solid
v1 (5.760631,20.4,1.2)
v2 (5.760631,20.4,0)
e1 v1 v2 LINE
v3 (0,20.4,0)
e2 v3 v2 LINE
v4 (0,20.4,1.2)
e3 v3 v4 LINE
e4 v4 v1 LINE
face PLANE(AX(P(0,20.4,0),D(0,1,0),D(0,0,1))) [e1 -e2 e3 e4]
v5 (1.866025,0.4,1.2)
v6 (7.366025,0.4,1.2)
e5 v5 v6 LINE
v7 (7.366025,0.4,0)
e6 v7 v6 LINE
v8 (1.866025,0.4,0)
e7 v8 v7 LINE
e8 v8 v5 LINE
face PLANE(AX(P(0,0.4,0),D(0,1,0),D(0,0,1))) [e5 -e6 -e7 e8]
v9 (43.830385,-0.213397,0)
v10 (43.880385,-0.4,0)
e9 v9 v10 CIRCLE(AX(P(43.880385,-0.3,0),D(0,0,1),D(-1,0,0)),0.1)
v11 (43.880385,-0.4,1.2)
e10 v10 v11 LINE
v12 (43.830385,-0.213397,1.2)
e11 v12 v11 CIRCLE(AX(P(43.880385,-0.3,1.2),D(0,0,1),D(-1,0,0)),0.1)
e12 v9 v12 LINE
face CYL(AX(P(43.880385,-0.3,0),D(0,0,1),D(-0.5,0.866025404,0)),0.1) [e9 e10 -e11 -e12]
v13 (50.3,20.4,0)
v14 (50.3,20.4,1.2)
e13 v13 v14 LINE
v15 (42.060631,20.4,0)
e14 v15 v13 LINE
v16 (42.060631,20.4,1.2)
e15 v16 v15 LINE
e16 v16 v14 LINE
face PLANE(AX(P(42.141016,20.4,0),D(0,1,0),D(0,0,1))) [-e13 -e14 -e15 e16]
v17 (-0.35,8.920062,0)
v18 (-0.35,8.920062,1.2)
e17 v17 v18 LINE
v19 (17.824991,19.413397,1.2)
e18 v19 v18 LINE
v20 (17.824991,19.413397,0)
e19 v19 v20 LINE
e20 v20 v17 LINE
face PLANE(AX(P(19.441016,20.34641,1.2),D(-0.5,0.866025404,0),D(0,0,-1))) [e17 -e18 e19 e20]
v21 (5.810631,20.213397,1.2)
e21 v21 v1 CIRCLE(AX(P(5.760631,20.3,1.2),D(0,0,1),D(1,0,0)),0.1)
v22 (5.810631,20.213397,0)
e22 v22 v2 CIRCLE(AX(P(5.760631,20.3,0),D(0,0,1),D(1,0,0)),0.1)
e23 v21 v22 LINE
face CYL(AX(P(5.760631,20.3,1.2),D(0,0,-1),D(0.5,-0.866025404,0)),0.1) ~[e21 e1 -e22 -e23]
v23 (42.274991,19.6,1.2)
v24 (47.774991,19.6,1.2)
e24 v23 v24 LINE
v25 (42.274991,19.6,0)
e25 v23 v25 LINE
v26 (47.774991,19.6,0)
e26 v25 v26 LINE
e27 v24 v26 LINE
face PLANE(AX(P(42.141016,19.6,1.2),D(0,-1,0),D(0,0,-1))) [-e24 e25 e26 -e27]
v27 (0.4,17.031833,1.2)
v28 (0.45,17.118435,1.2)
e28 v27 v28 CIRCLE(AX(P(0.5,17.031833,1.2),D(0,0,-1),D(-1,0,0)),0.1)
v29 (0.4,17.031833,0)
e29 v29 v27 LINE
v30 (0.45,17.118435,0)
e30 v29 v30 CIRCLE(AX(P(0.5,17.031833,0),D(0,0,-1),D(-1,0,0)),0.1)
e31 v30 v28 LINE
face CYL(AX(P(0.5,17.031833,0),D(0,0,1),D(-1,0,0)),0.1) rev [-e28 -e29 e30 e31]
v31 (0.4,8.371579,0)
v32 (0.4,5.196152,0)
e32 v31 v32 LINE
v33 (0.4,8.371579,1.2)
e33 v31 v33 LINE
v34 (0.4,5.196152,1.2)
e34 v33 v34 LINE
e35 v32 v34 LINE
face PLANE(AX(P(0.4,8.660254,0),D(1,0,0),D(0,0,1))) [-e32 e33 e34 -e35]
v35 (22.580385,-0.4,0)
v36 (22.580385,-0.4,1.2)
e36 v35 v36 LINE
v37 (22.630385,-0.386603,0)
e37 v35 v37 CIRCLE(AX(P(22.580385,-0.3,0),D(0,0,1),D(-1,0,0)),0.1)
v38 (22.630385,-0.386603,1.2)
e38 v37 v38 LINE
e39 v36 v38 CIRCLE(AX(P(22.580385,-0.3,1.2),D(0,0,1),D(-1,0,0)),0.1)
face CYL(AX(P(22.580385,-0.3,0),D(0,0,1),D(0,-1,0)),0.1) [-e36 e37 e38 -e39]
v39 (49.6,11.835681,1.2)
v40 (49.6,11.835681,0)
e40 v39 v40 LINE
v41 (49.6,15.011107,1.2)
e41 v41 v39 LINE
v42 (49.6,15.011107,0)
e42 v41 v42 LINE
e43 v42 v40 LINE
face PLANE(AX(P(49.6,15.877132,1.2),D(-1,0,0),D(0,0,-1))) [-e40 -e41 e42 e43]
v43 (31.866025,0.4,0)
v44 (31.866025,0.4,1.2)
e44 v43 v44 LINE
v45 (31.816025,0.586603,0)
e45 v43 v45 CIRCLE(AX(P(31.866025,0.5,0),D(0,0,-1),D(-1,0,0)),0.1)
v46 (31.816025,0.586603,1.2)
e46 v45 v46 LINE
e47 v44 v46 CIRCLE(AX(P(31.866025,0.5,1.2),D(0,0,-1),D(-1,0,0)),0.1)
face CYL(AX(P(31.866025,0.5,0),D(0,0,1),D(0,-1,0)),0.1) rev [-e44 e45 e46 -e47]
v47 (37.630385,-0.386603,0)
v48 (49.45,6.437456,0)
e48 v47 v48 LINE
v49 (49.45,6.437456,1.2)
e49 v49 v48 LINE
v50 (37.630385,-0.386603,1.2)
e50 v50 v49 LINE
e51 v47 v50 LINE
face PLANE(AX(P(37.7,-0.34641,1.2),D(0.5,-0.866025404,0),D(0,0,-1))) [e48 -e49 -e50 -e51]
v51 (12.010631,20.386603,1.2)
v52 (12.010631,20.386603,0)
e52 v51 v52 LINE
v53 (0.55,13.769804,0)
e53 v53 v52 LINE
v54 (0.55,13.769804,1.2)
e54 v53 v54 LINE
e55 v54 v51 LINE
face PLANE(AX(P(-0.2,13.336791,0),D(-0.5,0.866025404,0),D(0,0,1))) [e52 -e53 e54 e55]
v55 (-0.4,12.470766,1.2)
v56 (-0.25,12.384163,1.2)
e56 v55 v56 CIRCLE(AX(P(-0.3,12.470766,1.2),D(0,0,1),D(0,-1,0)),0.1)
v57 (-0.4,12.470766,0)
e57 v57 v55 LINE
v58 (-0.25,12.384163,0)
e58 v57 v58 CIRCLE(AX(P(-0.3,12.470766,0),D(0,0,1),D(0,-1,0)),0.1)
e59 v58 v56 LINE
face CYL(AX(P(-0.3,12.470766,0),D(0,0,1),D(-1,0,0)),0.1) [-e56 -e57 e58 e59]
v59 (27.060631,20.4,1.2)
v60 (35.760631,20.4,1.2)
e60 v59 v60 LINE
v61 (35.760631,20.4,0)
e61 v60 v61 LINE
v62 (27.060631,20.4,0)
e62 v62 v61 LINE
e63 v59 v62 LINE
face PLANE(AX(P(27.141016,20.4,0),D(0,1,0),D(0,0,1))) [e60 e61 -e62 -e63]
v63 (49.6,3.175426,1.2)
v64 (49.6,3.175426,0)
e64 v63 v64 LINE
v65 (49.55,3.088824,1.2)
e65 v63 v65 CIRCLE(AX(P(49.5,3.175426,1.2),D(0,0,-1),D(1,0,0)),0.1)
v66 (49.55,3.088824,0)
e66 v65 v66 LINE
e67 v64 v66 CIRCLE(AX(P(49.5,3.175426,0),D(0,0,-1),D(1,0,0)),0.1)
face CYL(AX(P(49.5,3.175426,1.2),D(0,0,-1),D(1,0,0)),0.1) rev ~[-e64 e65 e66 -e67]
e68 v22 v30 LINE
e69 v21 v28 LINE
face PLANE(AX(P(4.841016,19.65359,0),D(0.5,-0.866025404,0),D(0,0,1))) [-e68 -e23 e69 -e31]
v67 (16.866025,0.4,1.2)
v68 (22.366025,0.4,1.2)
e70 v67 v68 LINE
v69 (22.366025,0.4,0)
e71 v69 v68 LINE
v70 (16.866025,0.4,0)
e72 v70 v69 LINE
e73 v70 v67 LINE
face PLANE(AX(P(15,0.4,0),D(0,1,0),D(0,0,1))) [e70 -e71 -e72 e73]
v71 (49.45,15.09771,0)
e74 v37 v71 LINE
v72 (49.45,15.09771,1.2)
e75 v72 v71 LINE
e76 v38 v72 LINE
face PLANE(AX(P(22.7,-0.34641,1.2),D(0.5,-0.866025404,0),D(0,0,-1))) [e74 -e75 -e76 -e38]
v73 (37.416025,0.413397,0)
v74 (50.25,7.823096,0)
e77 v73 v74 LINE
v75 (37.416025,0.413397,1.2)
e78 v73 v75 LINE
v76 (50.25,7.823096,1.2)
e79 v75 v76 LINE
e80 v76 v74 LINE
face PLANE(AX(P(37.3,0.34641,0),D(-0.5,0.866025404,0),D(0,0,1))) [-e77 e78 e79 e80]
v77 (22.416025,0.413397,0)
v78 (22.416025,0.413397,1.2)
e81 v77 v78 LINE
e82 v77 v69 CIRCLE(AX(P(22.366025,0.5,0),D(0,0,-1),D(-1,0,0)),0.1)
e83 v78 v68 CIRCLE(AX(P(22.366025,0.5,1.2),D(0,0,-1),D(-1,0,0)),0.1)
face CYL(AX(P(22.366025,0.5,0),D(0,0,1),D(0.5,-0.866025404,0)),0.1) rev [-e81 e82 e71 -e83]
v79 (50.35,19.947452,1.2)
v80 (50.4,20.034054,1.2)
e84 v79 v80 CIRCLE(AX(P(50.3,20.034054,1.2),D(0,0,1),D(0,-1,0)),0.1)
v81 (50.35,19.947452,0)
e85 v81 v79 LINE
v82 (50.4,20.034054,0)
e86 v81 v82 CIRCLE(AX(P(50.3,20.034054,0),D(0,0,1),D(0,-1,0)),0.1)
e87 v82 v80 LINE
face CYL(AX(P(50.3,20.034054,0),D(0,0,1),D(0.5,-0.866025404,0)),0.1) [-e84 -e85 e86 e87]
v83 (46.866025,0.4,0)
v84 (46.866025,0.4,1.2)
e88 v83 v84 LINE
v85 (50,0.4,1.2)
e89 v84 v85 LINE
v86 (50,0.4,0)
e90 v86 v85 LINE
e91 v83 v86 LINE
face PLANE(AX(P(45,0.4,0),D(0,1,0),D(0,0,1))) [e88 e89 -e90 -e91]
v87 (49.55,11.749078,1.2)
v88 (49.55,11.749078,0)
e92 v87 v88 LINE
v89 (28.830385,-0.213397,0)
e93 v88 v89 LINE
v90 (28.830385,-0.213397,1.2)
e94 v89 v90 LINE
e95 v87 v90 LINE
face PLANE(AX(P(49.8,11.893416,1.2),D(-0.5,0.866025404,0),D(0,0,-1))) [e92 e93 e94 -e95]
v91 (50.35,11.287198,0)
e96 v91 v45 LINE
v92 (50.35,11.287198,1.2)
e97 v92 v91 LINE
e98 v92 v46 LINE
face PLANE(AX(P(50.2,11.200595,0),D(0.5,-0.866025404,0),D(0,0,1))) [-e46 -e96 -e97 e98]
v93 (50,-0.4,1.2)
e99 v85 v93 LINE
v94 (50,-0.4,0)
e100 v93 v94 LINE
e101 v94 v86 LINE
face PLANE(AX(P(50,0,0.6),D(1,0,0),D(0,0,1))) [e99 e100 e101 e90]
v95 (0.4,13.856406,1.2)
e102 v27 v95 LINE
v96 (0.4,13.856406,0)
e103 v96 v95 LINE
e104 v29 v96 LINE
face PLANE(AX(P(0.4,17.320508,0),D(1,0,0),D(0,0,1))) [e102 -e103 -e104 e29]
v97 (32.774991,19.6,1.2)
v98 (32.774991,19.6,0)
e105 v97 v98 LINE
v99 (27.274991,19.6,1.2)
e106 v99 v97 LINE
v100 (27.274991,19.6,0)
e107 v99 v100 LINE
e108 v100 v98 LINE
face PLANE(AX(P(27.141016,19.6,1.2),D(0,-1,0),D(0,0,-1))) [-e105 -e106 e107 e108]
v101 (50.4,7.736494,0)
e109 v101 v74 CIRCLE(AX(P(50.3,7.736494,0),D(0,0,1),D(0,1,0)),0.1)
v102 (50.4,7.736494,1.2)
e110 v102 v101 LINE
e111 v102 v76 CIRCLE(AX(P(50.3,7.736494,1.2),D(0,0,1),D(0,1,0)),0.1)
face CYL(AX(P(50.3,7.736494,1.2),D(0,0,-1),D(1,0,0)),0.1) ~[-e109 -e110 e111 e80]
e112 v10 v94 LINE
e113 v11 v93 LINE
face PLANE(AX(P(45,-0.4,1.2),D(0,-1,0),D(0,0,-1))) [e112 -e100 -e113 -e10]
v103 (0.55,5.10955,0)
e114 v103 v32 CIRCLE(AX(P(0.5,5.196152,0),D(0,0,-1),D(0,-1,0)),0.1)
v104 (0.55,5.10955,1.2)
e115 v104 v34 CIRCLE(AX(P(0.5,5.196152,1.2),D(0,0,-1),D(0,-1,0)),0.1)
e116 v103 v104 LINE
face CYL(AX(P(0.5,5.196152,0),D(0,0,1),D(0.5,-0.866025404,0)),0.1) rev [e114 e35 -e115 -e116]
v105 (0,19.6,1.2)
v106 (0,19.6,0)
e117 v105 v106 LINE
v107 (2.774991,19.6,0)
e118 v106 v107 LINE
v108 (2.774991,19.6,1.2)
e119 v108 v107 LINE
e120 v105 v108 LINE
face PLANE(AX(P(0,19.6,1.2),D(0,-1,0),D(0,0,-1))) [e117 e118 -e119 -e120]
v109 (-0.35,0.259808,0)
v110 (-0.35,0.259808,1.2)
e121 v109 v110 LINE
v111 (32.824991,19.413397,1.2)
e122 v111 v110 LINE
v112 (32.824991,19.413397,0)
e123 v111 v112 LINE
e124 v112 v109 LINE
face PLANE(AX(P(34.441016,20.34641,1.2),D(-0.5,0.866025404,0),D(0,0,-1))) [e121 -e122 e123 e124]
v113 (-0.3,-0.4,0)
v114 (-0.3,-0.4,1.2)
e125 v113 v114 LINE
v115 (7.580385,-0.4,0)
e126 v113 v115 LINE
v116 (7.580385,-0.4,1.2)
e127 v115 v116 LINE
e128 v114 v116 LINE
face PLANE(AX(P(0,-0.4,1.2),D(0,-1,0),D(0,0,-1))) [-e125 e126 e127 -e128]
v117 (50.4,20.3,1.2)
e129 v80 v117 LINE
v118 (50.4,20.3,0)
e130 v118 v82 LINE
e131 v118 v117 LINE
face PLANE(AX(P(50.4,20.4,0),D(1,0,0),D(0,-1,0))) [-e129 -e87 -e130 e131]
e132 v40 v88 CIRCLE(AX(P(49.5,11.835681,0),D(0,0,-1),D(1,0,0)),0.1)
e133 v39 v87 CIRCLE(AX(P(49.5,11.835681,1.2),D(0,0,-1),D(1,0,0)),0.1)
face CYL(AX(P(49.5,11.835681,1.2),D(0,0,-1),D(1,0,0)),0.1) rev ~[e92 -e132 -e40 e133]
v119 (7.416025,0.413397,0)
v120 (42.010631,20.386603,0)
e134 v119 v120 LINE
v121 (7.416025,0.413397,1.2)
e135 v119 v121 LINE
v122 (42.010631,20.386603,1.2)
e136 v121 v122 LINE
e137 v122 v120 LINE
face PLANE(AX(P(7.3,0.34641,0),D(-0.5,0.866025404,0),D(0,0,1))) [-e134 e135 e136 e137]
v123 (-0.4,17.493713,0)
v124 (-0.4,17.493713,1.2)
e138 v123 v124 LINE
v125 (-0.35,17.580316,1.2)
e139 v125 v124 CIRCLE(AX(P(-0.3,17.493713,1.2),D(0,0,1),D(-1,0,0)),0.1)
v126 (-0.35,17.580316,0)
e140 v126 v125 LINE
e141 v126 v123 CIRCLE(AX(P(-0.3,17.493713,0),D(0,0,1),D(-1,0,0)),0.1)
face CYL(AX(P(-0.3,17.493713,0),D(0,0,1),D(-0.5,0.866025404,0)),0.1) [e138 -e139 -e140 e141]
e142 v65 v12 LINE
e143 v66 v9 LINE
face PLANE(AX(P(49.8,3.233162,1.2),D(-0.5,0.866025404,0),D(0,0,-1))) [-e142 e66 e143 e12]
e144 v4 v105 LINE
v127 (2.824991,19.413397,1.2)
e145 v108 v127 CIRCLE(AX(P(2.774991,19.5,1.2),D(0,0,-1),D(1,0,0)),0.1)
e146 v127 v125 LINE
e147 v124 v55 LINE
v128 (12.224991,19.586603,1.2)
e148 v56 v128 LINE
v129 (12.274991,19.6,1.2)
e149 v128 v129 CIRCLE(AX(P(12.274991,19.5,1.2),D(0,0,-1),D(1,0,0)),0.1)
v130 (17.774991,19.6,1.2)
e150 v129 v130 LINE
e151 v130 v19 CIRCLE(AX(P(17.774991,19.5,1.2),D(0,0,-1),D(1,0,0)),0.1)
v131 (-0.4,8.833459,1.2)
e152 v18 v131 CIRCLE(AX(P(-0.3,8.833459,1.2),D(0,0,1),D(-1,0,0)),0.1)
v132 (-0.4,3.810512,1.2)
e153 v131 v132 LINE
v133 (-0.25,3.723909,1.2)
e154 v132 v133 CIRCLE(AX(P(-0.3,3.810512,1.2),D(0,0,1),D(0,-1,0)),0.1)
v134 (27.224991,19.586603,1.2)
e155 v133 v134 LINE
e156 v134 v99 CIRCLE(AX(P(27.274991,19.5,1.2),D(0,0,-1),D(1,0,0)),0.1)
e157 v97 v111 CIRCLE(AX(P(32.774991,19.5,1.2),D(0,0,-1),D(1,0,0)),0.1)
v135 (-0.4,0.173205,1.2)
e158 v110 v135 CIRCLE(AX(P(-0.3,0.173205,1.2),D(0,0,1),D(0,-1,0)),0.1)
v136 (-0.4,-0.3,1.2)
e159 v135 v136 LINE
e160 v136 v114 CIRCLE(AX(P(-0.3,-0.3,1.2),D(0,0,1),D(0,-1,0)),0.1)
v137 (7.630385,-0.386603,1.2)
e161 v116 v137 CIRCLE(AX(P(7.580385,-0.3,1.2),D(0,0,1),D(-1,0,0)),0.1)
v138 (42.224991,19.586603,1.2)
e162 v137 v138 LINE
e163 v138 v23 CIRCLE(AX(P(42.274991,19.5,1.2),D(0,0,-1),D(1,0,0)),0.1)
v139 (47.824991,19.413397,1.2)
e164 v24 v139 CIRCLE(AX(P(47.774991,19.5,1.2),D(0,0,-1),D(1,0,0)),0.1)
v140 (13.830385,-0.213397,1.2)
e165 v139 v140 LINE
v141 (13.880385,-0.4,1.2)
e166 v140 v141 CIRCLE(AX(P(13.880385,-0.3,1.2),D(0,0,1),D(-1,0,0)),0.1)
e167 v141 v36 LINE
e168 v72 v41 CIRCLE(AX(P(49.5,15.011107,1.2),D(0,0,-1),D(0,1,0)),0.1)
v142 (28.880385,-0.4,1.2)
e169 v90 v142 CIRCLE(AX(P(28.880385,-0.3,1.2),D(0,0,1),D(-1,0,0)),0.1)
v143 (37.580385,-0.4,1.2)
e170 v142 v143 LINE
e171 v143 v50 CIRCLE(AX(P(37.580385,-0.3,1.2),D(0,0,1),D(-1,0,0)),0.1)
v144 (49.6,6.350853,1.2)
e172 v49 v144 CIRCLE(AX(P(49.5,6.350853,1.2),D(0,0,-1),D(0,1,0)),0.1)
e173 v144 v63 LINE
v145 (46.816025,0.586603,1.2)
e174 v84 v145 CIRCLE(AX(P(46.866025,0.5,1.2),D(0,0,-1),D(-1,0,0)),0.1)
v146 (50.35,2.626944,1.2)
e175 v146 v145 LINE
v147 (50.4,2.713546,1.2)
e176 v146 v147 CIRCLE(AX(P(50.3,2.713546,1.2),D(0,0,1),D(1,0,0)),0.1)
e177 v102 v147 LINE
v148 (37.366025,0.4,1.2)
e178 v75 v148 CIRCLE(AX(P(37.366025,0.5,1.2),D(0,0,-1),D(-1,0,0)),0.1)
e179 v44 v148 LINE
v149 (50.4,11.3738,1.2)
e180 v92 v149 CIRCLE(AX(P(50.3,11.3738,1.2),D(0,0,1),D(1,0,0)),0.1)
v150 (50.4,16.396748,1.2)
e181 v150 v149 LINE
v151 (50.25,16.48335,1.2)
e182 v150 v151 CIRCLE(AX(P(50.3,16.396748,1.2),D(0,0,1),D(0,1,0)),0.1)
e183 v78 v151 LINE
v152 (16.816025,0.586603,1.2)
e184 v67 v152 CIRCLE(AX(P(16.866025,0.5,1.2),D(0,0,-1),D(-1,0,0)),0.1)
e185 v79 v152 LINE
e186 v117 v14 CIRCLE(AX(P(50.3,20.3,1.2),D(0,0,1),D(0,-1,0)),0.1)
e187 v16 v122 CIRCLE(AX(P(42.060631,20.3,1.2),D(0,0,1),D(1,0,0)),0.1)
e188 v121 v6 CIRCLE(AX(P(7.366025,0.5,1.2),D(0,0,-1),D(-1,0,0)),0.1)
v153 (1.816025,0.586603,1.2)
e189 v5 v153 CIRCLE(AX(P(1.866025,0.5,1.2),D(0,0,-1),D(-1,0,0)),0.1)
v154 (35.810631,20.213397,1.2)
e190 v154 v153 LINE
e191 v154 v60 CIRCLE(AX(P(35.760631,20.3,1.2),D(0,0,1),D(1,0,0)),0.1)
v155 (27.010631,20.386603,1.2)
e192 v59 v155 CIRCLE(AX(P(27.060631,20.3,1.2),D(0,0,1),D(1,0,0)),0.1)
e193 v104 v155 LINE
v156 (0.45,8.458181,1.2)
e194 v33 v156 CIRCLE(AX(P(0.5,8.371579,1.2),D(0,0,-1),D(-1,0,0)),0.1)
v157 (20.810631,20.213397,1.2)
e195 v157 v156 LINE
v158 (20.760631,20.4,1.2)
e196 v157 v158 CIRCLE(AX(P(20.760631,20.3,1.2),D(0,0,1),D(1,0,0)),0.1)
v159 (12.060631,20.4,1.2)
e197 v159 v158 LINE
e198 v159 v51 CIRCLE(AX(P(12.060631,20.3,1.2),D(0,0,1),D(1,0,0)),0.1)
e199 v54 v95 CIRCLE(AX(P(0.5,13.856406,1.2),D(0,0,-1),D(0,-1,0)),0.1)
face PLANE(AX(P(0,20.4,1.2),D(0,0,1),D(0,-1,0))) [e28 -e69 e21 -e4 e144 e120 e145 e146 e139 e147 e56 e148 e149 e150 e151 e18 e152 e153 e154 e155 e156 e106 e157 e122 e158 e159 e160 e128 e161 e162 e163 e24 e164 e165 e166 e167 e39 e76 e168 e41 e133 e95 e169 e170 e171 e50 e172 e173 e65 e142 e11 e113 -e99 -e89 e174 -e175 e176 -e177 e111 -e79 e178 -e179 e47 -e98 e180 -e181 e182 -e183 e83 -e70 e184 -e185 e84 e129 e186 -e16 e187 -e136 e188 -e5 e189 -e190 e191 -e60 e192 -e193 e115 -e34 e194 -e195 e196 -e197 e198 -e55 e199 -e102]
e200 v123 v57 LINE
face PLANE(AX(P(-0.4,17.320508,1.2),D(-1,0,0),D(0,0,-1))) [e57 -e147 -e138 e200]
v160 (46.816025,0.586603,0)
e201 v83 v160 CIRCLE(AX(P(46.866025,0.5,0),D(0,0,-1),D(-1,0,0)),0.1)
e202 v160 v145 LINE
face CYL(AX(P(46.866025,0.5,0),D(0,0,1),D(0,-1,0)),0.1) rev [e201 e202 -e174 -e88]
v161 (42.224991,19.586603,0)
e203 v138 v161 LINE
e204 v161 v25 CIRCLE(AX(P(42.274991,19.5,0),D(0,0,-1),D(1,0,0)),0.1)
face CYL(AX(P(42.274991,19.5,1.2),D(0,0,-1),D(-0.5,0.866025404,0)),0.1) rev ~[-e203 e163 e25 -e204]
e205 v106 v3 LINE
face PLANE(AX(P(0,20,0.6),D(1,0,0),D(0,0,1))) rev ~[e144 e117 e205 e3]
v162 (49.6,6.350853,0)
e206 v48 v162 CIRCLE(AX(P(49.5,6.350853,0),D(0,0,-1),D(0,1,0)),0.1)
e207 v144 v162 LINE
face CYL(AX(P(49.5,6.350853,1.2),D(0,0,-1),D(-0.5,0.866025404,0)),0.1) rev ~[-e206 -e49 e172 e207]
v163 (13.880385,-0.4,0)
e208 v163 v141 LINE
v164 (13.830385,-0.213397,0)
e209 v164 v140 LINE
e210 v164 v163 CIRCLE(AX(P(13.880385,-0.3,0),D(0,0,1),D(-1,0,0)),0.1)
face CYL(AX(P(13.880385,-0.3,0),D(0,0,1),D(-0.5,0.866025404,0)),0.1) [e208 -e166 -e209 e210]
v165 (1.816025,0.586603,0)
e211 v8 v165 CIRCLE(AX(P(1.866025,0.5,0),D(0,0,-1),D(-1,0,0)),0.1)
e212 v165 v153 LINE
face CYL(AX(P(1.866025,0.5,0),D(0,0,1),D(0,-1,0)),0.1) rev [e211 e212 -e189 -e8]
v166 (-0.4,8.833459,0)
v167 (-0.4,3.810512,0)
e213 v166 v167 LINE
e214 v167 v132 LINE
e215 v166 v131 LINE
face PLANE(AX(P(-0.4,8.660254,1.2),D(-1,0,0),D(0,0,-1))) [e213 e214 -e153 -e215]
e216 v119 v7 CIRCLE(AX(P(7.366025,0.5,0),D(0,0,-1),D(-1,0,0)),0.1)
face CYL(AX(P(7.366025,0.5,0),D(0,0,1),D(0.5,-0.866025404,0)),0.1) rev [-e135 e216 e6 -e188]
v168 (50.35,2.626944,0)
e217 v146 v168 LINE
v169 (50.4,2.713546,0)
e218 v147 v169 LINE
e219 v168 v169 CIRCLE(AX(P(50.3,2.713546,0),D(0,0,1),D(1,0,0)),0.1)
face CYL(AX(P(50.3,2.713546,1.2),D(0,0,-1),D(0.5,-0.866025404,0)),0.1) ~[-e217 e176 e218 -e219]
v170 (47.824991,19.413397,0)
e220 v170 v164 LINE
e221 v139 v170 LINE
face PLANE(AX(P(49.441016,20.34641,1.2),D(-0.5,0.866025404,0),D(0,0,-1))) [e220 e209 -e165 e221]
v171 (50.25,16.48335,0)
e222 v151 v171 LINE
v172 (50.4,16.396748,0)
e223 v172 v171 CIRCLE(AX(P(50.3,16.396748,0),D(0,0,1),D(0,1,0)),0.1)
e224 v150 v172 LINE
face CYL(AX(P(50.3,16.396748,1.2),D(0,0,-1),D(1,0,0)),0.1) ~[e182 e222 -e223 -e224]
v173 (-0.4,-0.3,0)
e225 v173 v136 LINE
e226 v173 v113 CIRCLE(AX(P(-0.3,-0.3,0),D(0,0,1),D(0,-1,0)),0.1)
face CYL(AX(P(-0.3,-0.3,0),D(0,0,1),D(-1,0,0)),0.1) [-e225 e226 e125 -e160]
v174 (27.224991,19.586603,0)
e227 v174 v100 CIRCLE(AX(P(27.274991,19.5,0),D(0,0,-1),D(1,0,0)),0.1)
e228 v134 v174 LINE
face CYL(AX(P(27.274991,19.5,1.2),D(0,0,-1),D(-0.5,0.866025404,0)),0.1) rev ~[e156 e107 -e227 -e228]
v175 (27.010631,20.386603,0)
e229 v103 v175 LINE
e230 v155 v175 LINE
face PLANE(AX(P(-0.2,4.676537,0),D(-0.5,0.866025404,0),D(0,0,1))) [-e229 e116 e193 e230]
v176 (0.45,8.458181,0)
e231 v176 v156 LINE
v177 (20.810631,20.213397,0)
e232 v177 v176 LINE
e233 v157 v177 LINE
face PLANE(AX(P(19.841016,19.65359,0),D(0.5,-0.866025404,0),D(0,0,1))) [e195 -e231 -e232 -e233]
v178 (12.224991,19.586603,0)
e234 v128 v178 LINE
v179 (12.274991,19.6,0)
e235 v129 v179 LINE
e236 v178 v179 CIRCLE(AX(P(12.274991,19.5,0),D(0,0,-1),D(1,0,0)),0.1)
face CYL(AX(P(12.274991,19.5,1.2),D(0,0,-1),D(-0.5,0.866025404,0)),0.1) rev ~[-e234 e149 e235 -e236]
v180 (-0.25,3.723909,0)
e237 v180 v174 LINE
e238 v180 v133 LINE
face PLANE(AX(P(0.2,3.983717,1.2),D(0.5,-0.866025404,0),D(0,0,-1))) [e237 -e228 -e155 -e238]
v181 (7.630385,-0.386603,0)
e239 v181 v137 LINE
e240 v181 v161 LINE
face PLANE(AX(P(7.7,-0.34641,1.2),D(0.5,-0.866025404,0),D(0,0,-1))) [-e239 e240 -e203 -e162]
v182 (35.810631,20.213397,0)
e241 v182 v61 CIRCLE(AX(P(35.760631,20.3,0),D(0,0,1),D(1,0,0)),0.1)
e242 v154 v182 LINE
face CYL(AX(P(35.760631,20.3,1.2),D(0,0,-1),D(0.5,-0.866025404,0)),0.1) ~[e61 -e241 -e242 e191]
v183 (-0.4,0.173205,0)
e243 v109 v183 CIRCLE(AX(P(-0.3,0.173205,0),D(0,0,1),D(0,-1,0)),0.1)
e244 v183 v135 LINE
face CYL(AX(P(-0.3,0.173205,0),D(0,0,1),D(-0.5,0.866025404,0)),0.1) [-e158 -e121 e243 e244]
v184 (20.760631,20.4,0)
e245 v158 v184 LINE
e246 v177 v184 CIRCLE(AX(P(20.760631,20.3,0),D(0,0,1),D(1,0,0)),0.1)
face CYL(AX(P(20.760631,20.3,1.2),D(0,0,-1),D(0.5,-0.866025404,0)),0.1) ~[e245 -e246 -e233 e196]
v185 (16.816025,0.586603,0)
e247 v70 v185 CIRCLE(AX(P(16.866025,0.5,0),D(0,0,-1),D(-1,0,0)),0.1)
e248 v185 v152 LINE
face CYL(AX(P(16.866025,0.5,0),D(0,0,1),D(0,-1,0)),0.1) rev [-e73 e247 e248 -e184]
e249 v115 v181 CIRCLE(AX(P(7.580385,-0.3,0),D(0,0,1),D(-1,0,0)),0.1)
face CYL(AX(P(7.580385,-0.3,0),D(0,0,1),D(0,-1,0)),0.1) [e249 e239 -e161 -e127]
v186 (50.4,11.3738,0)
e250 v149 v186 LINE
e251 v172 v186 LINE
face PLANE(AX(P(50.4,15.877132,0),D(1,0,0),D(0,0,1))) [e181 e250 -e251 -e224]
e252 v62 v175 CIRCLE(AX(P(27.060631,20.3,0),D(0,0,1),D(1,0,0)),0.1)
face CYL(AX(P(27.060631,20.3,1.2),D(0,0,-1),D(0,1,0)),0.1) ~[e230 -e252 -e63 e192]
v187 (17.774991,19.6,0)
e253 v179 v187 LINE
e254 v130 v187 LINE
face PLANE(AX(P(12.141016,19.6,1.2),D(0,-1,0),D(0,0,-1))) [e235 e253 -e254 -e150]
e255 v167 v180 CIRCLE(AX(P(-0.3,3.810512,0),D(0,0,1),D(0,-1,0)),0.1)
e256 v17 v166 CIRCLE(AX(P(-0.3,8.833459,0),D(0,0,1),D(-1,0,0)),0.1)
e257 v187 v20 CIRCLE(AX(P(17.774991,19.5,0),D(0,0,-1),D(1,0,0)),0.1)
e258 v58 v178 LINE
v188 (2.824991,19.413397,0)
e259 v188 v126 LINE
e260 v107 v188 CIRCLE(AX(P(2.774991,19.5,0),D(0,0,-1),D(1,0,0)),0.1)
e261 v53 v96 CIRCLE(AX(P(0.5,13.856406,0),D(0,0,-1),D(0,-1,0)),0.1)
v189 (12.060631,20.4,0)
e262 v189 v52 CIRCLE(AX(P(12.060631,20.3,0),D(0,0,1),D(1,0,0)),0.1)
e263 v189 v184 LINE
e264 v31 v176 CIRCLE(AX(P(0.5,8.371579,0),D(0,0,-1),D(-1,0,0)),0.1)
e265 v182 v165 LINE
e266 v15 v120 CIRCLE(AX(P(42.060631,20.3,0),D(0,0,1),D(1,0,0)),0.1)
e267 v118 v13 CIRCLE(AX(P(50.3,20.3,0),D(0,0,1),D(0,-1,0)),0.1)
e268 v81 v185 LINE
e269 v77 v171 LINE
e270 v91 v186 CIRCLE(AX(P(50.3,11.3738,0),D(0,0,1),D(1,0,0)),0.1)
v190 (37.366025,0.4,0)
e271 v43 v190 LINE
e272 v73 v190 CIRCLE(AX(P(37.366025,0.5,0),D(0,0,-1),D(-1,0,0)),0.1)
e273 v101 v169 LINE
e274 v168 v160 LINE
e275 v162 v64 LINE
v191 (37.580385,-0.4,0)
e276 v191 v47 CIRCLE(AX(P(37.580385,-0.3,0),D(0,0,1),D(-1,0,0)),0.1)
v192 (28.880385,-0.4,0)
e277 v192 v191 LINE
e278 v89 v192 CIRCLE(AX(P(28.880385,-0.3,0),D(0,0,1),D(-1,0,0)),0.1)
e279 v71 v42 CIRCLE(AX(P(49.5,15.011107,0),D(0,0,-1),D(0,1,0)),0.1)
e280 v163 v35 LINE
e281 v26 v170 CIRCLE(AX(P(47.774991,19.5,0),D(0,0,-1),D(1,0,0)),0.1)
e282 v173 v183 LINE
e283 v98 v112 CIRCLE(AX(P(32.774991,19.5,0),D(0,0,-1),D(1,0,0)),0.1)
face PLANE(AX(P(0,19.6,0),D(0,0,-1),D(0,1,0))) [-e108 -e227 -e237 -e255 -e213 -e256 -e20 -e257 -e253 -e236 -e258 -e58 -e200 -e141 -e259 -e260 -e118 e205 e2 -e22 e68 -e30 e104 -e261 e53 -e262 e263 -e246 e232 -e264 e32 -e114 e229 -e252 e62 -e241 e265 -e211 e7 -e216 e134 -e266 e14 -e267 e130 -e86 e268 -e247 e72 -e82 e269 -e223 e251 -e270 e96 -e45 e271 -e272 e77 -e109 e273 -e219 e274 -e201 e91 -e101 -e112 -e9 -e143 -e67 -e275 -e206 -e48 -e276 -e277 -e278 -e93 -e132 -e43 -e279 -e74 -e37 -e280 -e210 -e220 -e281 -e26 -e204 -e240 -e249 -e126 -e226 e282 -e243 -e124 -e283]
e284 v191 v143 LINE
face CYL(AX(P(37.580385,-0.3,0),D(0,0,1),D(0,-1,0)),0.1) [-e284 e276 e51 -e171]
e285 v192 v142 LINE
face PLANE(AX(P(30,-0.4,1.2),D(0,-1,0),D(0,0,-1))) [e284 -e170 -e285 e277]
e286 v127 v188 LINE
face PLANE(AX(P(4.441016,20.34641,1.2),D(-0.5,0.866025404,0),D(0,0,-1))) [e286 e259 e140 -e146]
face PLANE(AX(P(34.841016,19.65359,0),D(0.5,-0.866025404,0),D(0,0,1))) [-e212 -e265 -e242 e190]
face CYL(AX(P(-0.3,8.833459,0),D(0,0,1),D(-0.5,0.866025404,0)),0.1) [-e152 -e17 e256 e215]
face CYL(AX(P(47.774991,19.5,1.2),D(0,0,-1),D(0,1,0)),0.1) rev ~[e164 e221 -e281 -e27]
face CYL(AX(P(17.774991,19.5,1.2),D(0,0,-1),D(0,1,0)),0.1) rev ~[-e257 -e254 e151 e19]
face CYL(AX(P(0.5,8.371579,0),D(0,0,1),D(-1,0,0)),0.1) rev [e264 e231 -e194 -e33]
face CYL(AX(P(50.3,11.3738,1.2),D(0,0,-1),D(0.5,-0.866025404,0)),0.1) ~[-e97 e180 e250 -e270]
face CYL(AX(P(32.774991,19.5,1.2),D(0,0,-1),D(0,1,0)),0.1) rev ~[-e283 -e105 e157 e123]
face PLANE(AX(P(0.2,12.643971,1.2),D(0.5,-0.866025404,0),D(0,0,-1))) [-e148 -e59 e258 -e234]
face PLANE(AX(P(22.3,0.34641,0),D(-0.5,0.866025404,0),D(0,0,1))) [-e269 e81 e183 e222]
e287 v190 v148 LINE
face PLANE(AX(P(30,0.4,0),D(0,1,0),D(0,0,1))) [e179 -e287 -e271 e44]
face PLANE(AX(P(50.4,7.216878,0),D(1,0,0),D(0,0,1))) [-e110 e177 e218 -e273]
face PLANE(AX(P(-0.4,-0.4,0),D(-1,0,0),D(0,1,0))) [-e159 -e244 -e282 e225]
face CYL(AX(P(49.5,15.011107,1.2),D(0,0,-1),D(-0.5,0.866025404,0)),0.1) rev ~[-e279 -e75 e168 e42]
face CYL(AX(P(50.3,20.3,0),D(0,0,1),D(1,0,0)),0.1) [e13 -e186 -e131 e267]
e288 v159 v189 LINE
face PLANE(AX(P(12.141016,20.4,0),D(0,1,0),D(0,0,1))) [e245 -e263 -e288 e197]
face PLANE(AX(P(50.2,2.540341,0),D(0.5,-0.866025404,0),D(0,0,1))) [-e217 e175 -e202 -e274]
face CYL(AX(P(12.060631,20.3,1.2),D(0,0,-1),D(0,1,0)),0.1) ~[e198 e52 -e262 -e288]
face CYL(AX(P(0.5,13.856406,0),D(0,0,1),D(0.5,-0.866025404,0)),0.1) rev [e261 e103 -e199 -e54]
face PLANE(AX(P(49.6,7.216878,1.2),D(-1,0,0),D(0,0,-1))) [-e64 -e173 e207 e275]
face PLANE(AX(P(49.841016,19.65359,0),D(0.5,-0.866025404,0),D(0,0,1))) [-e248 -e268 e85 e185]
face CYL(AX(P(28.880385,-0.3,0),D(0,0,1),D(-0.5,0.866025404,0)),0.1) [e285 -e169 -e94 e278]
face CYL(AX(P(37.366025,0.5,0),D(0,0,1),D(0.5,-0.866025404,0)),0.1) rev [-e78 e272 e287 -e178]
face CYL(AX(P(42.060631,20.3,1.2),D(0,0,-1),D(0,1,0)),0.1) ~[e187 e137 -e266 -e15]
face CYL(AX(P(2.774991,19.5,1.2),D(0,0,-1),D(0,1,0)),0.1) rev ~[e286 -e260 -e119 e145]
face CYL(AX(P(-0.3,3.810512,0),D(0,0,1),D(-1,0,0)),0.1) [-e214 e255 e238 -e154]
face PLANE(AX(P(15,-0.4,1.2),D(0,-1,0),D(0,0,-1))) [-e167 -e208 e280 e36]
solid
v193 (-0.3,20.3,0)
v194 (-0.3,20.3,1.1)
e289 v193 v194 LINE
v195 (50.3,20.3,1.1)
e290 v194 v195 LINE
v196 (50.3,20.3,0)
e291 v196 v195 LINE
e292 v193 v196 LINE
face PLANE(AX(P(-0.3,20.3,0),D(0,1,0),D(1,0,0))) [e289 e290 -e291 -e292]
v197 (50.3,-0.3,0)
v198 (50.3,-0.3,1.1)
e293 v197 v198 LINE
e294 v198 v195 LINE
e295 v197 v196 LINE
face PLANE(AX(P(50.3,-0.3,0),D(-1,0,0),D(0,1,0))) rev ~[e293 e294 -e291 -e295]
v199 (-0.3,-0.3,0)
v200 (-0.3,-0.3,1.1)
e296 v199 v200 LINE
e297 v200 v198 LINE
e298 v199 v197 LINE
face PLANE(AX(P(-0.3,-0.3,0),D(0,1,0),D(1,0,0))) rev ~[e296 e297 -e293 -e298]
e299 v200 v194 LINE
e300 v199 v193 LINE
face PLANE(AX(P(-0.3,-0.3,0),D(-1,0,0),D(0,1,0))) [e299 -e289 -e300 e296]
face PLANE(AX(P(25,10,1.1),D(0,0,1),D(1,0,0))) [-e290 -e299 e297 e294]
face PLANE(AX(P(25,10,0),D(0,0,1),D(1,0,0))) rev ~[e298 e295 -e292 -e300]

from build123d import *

# Parameters (mm, degrees)
F5_W     = 62.8235205077
F5_H     = 37.2700802982
F6_DEPTH = 25
F8_W     = 50.6
F8_H     = 20.6
F9_DEPTH = 1.1
F10_R    = 0.1


with BuildPart() as f4:
    # F4: sweep along a path in F1
    with BuildLine(Plane.XY) as f4_path:
        Line((0, 20), (4.6410161514, 20))
        Line((4.6410161514, 20), (0, 17.3205080757))
        Line((0, 17.3205080757), (0, 12.9903810568))
        Line((0, 12.9903810568), (12.1410161514, 20))
        Line((12.1410161514, 20), (19.6410161514, 20))
        Line((19.6410161514, 20), (0, 8.6602540378))
        Line((0, 8.6602540378), (0, 4.3301270189))
        Line((0, 4.3301270189), (27.1410161514, 20))
        Line((27.1410161514, 20), (34.6410161514, 20))
        Line((34.6410161514, 20), (0, 0))
        Line((0, 0), (7.5, 0))
        Line((7.5, 0), (42.1410161514, 20))
        Line((42.1410161514, 20), (49.6410161514, 20))
        Line((49.6410161514, 20), (15, 0))
        Line((15, 0), (22.5, 0))
        Line((22.5, 0), (50, 15.8771324027))
        Line((50, 15.8771324027), (50, 11.5470053838))
        Line((50, 11.5470053838), (30, 0))
        Line((30, 0), (37.5, 0))
        Line((37.5, 0), (50, 7.2168783649))
        Line((50, 7.2168783649), (50, 2.8867513459))
        Line((50, 2.8867513459), (45, 0))
        Line((45, 0), (50, 0))
    # F3 (on line) → F4 (sweep)
    with BuildSketch(Plane.YZ):
        Polygon((19.6, 0), (20, 0), (20.4, 0), (20.4, 1.2), (20, 1.2), (19.6, 1.2), align=None)
    sweep(path=f4_path.line, transition=Transition.RIGHT)


with BuildPart() as f6:
    # F5 (on Top) → F6 (new body)
    with BuildSketch(Plane.XY):
        with Locations((25.02031927, 9.5404535532)):
            Rectangle(F5_W, F5_H)
        Polygon((-0.4, 3.6373066959), (-0.4, 8.8911941455), (-0.4, 20.4), (0, 20.4), (6.1338364744, 20.4), (50.4, 20.4), (50.4, 16.5699527257), (50.4, 11.3160652761), (50.4, -0.4), (37.607179677, -0.4), (28.507179677, -0.4), (-0.4, -0.4), align=None, mode=Mode.SUBTRACT)
    extrude(amount=F6_DEPTH)


with BuildPart() as f4_1:
    add(f4.part)

    # F7: cut F6
    add(f6.part, mode=Mode.SUBTRACT)

    # F10
    f10_edges = [f4_1.edges().sort_by_distance(p)[0] for p in [
        (-0.4, 17.551448, 0.6),
        (3.148196, 19.6, 0.6),
        (6.133836, 20.4, 0.6),
        (0.4, 17.089568, 0.6),
        (0.4, 13.683201, 0.6),
        (-0.4, 12.297561, 0.6),
        (12.248196, 19.6, 0.6),
        (12.033836, 20.4, 0.6),
        (18.148196, 19.6, 0.6),
        (21.133836, 20.4, 0.6),
        (27.033836, 20.4, 0.6),
        (-0.4, 8.891194, 0.6),
        (0.4, 8.429314, 0.6),
        (0.4, 5.022947, 0.6),
        (-0.4, 3.637307, 0.6),
        (27.248196, 19.6, 0.6),
        (33.148196, 19.6, 0.6),
        (36.133836, 20.4, 0.6),
        (42.033836, 20.4, 0.6),
        (-0.4, 0.23094, 0.6),
        (1.49282, 0.4, 0.6),
        (-0.4, -0.4, 0.6),
        (7.39282, 0.4, 0.6),
        (7.60718, -0.4, 0.6),
        (42.248196, 19.6, 0.6),
        (48.148196, 19.6, 0.6),
        (50.4, 20.4, 0.6),
        (50.4, 19.976319, 0.6),
        (50.4, 16.569953, 0.6),
        (49.6, 15.184312, 0.6),
        (49.6, 11.777945, 0.6),
        (50.4, 11.316065, 0.6),
        (28.50718, -0.4, 0.6),
        (31.49282, 0.4, 0.6),
        (22.60718, -0.4, 0.6),
        (13.50718, -0.4, 0.6),
        (16.49282, 0.4, 0.6),
        (37.39282, 0.4, 0.6),
        (22.39282, 0.4, 0.6),
        (50.4, 7.909699, 0.6),
        (49.6, 6.524058, 0.6),
        (37.60718, -0.4, 0.6),
        (43.50718, -0.4, 0.6),
        (50.4, 2.655811, 0.6),
        (46.49282, 0.4, 0.6),
        (49.6, 3.117691, 0.6),
    ]]
    fillet(f10_edges, radius=F10_R)


with BuildPart() as f9:
    # F8 (on Top) → F9 (new body)
    with BuildSketch(Plane.XY):
        with Locations((25, 10)):
            Rectangle(F8_W, F8_H)
    extrude(amount=F9_DEPTH)


solid = Compound([f4_1.part, f9.part])
